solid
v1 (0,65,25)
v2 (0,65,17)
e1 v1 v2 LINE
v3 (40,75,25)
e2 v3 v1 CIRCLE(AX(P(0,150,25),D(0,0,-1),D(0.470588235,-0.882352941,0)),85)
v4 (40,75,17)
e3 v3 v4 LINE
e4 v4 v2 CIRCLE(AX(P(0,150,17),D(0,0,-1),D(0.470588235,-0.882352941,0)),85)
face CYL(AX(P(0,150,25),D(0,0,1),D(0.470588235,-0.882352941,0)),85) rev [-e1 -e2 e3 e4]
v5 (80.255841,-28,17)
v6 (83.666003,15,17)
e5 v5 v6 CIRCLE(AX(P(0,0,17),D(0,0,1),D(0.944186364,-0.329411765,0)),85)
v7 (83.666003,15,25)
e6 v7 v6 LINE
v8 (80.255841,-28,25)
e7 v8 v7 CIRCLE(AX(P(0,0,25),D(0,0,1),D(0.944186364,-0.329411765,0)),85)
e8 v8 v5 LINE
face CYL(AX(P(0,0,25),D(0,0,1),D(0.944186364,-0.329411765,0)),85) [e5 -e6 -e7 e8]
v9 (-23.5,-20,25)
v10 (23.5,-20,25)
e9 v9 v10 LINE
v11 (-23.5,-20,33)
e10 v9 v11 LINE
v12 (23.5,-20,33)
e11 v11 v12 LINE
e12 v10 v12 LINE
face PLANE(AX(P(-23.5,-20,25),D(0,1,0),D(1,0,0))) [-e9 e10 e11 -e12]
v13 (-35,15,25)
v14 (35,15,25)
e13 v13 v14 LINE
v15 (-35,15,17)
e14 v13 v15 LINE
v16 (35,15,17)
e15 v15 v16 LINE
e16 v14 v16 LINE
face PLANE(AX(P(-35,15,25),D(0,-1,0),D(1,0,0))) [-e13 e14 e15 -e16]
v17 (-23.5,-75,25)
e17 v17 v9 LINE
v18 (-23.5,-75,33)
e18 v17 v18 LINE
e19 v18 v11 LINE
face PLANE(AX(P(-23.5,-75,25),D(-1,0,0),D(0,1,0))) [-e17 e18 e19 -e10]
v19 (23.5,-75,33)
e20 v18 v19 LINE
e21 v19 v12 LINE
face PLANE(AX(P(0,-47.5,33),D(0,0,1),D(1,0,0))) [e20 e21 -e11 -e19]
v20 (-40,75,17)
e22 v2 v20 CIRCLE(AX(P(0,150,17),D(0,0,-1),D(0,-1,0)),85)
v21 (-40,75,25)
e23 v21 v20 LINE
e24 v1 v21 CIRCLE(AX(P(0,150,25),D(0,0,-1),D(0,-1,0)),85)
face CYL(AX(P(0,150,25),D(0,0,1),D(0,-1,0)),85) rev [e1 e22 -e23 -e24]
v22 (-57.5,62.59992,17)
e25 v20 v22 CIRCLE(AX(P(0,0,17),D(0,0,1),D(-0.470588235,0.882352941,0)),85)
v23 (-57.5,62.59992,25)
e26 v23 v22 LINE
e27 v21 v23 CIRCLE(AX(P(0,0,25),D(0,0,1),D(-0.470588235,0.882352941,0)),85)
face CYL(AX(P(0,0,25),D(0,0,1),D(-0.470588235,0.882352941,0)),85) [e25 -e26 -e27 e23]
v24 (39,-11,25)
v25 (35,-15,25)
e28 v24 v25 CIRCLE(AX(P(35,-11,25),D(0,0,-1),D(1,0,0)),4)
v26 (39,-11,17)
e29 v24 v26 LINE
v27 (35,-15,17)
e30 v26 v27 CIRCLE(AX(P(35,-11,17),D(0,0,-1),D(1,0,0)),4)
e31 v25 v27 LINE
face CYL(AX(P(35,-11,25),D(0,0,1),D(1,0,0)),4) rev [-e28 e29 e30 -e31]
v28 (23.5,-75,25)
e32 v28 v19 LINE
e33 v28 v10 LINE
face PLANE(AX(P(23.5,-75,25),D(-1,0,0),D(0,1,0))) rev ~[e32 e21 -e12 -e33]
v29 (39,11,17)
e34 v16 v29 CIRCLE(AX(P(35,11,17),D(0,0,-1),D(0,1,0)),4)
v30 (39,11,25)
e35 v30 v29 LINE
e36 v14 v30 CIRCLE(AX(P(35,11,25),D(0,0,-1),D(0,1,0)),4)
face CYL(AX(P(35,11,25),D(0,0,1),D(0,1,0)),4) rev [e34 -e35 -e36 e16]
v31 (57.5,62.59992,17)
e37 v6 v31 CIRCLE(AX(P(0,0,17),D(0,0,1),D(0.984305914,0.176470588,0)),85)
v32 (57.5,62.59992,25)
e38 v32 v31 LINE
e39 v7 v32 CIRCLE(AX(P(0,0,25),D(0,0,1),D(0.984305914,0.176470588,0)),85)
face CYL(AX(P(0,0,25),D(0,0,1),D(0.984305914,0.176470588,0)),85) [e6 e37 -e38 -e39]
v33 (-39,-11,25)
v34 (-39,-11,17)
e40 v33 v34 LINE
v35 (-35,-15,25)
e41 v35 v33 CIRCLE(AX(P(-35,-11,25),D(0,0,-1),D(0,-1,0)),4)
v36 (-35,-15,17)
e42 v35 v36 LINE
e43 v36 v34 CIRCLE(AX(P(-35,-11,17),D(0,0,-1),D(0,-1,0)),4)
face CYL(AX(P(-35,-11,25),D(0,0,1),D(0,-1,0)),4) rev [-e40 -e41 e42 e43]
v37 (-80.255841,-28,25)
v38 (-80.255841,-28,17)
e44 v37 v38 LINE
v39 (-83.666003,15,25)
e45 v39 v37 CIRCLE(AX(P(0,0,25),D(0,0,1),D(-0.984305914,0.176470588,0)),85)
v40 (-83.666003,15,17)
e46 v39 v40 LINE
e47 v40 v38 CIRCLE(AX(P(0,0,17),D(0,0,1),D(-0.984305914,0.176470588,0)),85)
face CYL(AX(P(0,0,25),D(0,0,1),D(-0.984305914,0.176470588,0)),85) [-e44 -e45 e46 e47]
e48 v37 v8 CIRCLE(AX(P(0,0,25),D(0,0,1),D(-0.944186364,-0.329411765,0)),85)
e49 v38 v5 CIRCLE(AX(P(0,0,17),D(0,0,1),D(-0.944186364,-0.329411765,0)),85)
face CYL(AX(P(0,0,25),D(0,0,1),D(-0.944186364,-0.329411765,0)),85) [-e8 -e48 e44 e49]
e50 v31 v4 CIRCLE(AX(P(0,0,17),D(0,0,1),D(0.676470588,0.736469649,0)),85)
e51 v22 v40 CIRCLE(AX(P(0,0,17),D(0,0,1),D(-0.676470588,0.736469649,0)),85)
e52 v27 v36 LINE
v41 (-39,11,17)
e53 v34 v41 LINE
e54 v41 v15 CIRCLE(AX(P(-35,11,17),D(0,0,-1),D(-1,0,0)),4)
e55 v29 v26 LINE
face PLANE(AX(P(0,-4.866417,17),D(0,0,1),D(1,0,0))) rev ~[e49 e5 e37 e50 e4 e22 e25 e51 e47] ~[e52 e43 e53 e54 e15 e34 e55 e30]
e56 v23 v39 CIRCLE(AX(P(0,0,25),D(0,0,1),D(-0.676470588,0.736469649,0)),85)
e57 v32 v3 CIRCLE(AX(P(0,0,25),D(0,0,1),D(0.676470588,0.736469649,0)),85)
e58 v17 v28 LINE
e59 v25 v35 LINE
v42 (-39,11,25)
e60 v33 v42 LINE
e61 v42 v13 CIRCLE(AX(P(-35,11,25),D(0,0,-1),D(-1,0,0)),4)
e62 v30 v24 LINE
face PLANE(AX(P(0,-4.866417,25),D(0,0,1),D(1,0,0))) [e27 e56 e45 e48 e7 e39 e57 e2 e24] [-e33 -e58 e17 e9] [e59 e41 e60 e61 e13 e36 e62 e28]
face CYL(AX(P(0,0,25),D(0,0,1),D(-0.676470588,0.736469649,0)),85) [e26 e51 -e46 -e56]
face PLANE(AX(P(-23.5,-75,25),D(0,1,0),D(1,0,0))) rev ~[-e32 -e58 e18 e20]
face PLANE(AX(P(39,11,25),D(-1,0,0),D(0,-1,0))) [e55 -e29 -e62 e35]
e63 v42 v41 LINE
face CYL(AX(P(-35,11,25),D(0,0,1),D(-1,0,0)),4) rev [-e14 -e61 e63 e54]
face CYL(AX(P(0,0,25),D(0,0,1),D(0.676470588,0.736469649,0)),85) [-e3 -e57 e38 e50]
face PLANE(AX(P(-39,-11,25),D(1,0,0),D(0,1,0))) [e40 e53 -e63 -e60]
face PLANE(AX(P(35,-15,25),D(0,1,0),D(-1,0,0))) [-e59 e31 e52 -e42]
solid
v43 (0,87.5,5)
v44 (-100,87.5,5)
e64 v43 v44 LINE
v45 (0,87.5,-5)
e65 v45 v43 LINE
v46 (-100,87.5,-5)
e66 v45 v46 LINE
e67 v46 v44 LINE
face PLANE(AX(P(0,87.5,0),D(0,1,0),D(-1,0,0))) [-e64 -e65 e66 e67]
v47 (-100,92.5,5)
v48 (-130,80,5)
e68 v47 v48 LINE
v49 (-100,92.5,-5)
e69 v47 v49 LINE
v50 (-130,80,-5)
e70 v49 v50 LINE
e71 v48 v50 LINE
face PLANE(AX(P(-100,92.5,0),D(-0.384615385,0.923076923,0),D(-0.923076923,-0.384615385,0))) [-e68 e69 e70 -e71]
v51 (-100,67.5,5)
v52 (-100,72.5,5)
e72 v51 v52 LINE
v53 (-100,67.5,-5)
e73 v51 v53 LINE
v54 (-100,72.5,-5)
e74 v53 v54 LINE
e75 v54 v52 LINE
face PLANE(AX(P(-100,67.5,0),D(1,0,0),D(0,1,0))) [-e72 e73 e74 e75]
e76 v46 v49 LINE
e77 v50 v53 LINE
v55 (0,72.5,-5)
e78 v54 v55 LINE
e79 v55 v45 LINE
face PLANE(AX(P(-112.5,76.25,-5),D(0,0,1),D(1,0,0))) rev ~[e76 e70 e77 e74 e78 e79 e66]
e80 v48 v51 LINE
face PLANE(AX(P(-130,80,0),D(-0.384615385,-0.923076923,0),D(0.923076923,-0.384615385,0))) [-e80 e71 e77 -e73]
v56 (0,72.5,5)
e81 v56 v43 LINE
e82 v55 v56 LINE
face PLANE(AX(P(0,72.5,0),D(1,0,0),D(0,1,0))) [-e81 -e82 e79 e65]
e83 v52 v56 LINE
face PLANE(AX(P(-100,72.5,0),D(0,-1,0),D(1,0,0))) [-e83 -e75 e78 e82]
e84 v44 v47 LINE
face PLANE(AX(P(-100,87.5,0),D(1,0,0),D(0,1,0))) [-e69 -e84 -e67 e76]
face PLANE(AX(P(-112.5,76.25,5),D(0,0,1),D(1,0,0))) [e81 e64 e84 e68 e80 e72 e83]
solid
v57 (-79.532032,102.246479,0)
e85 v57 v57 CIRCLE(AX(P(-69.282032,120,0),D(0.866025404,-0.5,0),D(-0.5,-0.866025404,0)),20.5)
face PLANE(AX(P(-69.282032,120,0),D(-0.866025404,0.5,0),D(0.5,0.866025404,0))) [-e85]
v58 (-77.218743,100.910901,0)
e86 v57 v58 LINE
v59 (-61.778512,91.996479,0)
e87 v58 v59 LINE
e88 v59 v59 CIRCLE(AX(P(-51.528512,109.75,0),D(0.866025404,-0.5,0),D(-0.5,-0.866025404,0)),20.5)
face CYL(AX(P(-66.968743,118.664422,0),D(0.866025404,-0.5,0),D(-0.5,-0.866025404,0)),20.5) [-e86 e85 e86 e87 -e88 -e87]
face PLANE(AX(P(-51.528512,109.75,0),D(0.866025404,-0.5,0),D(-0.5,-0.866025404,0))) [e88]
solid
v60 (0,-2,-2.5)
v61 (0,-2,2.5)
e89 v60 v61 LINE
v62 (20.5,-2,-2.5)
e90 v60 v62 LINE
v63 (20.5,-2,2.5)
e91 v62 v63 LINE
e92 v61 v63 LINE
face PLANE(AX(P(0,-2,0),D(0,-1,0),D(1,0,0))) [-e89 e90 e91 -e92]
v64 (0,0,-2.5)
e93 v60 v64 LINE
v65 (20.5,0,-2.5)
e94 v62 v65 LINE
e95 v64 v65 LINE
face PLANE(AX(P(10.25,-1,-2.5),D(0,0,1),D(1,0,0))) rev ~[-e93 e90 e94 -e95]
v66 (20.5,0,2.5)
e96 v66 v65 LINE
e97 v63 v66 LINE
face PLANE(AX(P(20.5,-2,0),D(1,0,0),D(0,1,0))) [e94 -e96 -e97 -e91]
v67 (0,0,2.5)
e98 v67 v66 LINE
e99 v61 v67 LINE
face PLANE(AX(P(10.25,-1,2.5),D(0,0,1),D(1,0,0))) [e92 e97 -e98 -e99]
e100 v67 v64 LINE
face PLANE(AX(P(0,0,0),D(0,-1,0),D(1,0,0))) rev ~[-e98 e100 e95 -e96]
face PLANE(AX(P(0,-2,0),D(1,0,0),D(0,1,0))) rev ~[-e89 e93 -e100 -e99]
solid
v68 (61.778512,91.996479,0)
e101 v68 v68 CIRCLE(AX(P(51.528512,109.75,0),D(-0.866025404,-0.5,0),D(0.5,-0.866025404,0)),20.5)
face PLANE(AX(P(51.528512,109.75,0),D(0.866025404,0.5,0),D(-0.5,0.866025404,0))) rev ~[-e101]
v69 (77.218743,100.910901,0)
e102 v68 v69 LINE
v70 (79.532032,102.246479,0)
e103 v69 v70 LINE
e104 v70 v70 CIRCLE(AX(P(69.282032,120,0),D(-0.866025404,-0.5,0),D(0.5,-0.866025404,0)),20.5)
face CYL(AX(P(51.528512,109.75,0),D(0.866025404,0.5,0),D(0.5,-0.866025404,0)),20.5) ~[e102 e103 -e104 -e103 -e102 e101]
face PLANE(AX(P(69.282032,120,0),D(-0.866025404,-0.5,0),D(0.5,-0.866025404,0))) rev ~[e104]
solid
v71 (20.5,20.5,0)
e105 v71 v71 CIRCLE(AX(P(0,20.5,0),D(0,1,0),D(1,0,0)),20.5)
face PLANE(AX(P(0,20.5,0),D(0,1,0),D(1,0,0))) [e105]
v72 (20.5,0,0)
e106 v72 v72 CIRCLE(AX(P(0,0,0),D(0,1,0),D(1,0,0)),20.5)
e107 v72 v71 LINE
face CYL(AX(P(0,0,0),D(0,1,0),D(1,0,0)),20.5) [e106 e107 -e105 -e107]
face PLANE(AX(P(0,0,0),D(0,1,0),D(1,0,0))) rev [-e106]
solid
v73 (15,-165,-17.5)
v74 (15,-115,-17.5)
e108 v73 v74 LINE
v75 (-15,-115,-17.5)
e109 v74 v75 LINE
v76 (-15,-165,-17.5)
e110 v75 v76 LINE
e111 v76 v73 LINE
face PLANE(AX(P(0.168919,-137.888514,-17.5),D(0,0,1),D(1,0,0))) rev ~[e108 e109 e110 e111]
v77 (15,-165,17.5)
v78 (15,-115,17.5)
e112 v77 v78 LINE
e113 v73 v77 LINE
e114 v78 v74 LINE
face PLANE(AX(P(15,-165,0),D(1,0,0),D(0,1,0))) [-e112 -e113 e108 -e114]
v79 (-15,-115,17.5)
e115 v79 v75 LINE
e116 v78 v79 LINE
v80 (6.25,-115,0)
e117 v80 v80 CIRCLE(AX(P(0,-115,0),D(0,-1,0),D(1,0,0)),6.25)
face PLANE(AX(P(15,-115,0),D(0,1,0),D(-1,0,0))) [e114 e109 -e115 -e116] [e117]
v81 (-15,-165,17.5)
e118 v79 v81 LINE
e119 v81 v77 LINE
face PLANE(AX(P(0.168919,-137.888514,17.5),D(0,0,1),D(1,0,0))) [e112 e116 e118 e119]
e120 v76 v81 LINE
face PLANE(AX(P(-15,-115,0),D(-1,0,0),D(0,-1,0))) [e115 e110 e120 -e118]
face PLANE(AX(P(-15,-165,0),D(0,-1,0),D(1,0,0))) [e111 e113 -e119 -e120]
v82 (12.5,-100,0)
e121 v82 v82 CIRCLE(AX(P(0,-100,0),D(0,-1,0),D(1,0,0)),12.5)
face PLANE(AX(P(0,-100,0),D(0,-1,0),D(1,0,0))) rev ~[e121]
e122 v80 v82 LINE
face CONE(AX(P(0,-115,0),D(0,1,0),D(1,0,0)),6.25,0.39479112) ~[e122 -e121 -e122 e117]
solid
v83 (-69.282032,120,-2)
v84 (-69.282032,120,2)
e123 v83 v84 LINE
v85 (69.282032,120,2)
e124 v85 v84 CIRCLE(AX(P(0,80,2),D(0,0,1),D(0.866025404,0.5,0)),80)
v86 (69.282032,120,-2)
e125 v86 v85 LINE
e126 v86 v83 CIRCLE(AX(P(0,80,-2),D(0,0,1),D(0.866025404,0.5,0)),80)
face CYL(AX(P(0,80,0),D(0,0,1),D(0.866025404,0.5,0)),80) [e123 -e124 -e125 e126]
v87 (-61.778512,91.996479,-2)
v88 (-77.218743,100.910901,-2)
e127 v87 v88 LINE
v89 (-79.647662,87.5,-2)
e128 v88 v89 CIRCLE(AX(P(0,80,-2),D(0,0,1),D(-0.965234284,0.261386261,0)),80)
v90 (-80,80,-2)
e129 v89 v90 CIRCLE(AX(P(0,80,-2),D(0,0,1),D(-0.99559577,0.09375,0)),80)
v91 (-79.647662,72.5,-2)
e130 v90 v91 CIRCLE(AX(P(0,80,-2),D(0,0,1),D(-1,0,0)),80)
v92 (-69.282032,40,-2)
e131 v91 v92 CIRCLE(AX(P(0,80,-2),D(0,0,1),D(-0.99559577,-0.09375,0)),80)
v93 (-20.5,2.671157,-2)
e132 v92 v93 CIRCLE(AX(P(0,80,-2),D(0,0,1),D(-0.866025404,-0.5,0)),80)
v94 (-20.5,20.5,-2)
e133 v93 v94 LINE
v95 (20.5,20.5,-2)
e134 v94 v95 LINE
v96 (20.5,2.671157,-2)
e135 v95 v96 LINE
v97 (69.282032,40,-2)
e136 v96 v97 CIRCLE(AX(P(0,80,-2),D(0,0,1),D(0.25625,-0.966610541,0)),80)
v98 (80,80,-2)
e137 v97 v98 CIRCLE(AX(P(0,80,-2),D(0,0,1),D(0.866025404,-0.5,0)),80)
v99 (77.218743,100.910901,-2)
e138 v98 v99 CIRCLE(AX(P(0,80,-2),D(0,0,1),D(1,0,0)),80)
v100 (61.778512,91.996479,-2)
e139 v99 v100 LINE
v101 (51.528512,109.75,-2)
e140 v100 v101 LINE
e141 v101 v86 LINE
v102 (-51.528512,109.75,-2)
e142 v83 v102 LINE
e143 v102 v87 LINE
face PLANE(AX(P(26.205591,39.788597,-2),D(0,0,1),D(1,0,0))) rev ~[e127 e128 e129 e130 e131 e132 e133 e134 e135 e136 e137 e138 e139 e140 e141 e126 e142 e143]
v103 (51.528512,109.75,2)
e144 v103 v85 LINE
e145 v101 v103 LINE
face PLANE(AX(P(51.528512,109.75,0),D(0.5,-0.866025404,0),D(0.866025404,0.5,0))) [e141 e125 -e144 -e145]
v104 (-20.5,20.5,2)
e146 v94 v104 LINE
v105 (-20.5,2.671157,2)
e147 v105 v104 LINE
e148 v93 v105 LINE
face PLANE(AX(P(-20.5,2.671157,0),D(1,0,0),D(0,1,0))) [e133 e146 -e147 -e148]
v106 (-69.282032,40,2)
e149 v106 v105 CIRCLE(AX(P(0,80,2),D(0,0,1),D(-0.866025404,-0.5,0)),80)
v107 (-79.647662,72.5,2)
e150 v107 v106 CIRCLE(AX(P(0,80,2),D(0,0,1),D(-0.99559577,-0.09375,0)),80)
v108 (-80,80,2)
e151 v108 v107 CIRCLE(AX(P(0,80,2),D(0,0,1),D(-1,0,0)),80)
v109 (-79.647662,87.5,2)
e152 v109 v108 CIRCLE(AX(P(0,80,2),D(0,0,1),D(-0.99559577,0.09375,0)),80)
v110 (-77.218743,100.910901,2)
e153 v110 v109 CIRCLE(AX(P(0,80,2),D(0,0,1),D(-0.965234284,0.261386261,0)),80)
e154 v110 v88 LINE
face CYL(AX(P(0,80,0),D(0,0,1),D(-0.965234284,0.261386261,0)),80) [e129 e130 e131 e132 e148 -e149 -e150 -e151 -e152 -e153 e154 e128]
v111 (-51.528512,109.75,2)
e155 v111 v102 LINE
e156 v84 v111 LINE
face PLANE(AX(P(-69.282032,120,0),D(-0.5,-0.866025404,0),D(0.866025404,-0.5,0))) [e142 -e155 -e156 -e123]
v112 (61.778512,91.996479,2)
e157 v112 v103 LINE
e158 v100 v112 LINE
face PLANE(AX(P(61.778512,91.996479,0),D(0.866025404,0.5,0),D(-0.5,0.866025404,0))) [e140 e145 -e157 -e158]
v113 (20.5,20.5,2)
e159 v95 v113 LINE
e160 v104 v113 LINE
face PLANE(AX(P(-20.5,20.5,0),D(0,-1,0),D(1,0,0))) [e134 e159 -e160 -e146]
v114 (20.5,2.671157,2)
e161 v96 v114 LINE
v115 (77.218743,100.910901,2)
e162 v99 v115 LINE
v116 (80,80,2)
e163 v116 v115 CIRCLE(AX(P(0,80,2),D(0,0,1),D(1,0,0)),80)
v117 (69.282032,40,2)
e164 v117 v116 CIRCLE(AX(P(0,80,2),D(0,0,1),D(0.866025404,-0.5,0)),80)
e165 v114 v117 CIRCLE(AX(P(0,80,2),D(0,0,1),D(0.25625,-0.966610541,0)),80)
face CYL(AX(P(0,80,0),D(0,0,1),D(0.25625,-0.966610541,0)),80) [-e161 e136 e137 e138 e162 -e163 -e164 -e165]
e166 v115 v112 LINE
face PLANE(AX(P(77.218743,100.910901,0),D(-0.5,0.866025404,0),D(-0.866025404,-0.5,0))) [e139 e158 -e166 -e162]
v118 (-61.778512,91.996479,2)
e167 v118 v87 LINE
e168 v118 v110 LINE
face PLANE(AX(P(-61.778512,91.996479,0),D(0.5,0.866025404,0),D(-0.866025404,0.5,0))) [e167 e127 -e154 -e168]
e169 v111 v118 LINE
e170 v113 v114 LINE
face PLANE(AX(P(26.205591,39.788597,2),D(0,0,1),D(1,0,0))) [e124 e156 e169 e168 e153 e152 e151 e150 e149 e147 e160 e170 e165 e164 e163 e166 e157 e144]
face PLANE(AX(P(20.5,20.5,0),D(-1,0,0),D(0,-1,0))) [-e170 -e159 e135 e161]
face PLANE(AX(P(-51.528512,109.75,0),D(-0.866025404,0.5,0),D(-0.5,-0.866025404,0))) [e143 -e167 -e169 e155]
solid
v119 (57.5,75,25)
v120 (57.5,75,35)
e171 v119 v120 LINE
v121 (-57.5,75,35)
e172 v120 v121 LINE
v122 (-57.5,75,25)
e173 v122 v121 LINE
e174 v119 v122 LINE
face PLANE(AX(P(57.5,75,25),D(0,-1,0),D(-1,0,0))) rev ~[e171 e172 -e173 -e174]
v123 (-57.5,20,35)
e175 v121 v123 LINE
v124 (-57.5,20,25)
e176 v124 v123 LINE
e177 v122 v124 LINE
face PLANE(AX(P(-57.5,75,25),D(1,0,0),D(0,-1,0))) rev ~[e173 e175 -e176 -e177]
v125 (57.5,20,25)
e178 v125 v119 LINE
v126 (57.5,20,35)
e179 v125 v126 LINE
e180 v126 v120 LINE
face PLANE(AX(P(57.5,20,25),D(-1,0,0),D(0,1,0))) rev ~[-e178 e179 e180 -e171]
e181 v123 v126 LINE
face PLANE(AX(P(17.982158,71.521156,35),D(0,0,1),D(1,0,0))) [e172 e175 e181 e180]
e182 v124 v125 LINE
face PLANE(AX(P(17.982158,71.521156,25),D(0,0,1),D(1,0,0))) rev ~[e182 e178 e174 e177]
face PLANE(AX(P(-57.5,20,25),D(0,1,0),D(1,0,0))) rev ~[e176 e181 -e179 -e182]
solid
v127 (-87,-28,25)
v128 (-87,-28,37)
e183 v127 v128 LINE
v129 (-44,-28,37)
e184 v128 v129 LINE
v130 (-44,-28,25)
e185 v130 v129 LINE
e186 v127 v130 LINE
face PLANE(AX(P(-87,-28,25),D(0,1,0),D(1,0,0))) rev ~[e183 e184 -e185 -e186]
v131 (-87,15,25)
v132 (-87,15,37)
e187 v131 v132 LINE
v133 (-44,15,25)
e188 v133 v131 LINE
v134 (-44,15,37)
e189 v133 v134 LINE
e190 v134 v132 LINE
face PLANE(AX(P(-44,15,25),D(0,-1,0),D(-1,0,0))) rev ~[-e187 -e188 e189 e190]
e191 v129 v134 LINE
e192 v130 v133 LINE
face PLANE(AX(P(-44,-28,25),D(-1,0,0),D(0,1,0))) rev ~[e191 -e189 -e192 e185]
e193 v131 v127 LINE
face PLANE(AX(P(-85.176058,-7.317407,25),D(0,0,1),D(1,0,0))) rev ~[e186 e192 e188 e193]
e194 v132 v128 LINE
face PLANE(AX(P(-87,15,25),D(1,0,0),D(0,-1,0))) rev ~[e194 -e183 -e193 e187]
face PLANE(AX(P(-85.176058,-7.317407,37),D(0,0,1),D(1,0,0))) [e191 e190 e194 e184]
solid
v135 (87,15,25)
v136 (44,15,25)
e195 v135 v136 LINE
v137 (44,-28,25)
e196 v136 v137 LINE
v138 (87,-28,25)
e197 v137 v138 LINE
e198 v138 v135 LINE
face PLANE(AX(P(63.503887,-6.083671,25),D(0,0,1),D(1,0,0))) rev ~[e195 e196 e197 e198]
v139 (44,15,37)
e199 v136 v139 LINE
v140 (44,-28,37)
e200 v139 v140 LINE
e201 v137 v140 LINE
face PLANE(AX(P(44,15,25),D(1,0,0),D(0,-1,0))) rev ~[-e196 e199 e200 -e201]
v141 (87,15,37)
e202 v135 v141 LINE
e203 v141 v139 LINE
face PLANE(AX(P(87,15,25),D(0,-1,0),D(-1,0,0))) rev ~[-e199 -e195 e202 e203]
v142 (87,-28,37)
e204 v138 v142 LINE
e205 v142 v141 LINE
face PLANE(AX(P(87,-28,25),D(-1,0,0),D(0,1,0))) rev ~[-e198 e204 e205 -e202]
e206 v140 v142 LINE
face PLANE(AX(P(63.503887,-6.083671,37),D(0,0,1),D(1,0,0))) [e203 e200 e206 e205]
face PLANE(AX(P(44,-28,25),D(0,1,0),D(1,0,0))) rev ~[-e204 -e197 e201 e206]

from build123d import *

# Parameters (mm, degrees)
F1_DEPTH  = 2
F4_DEPTH  = 17.5
F0_W      = 20.5
F0_H      = 2
F5_DEPTH  = 2.5
F8_DEPTH  = 5
F10_W     = 47
F10_H     = 55
F11_DEPTH = 8
F12_DEPTH = 10
F13_DEPTH = 12
F14_DEPTH = 8


with BuildPart() as f1:
    # F0 (on Top) → F1 (new body, symmetric)
    with BuildSketch(Plane.XY):
        with BuildLine():
            Line((0, 72.5), (0, 20.5))
            Line((0, 20.5), (20.5, 20.5))
            Line((20.5, 20.5), (20.5, 2.6711567395))
            ThreePointArc((20.5, 2.6711567395), (48.6164989062, 16.4670476516), (69.2820323028, 40))
            Line((69.2820323028, 40), (0, 80))
            Line((0, 80), (0, 72.5))
        make_face()
        with BuildLine():
            Line((-20.5, 20.5), (0, 20.5))
            Line((0, 20.5), (0, 72.5))
            Line((0, 72.5), (-12.9903810568, 72.5))
            Line((-12.9903810568, 72.5), (-69.2820323028, 40))
            ThreePointArc((-69.2820323028, 40), (-48.6164989062, 16.4670476516), (-20.5, 2.6711567395))
            Line((-20.5, 2.6711567395), (-20.5, 20.5))
        make_face()
        with BuildLine():
            ThreePointArc((-79.6476616104, 72.5), (-76.2172941809, 55.6910702059), (-69.2820323028, 40))
            Line((-69.2820323028, 40), (-12.9903810568, 72.5))
            Line((-12.9903810568, 72.5), (-79.6476616104, 72.5))
        make_face()
        with BuildLine():
            Line((-12.9903810568, 72.5), (0, 80))
            Line((0, 80), (-80, 80))
            ThreePointArc((-80, 80), (-79.911866856, 76.2458642026), (-79.6476616104, 72.5))
            Line((-79.6476616104, 72.5), (-12.9903810568, 72.5))
        make_face()
        with BuildLine():
            Line((0, 80), (69.2820323028, 40))
            ThreePointArc((69.2820323028, 40), (77.2740661031, 59.2944763918), (80, 80))
            ThreePointArc((80, 80), (79.3016374885, 90.5475253803), (77.2187427088, 100.9109008526))
            Line((77.2187427088, 100.9109008526), (61.7785115252, 91.9964792224))
            Line((61.7785115252, 91.9964792224), (51.5285115252, 109.75))
            Line((51.5285115252, 109.75), (69.2820323028, 120))
            ThreePointArc((69.2820323028, 120), (0, 160), (-69.2820323028, 120))
            Line((-69.2820323028, 120), (-51.5285115252, 109.75))
            Line((-51.5285115252, 109.75), (-61.7785115252, 91.9964792224))
            Line((-61.7785115252, 91.9964792224), (-77.2187427088, 100.9109008526))
            ThreePointArc((-77.2187427088, 100.9109008526), (-78.719313173, 94.2572694992), (-79.6476616104, 87.5))
            Line((-79.6476616104, 87.5), (0, 87.5))
            Line((0, 87.5), (0, 80))
        make_face()
        with BuildLine():
            Line((-80, 80), (0, 80))
            Line((0, 80), (0, 87.5))
            Line((0, 87.5), (-79.6476616104, 87.5))
            ThreePointArc((-79.6476616104, 87.5), (-79.911866856, 83.7541357974), (-80, 80))
        make_face()
        Polygon((-12.9903810568, 72.5), (0, 72.5), (0, 80), align=None)
    extrude(amount=F1_DEPTH, both=True)


with BuildPart() as f2:
    # F0 (on Top) → F2 (revolve)
    with BuildSketch(Plane.XY):
        with BuildLine():
            Line((0, 20.5), (0, 0))
            ThreePointArc((0, 0), (10.3366469216, 0.6705998358), (20.5, 2.6711567395))
            Line((20.5, 2.6711567395), (20.5, 20.5))
            Line((20.5, 20.5), (0, 20.5))
        make_face()
        with BuildLine():
            ThreePointArc((20.5, 2.6711567395), (10.3366469216, 0.6705998358), (0, 0))
            Line((0, 0), (20.5, 0))
            Line((20.5, 0), (20.5, 2.6711567395))
        make_face()
    revolve(axis=Axis((0, 10.25, 0), (0, 1, 0)))


with BuildPart() as f3:
    # F0 (on Top) → F3 (revolve)
    with BuildSketch(Plane.XY):
        Polygon((12.5, -100), (0, -100), (0, -115), (6.25, -115), align=None)
    revolve(axis=Axis((0, -115, 0), (0, -1, 0)))

    # F0 (on Top) → F4 (join, symmetric)
    with BuildSketch(Plane.XY):
        Polygon((0, -130), (0, -115), (-15, -115), (-15, -165), (15, -165), (15, -115), (6.25, -115), align=None)
        Polygon((6.25, -115), (0, -115), (0, -130), align=None)
    extrude(amount=F4_DEPTH, both=True)


with BuildPart() as f5:
    # F0 (on Top) → F5 (new body, symmetric)
    with BuildSketch(Plane.XY):
        with Locations((10.25, -1)):
            Rectangle(F0_W, F0_H)
    extrude(amount=F5_DEPTH, both=True)


with BuildPart() as f6:
    # F0 (on Top) → F6 (revolve)
    with BuildSketch(Plane.XY):
        with BuildLine():
            Line((61.7785115252, 91.9964792224), (77.2187427088, 100.9109008526))
            ThreePointArc((77.2187427088, 100.9109008526), (73.86959927, 110.7129012581), (69.2820323028, 120))
            Line((69.2820323028, 120), (51.5285115252, 109.75))
            Line((51.5285115252, 109.75), (61.7785115252, 91.9964792224))
        make_face()
        with BuildLine():
            ThreePointArc((69.2820323028, 120), (73.86959927, 110.7129012581), (77.2187427088, 100.9109008526))
            Line((77.2187427088, 100.9109008526), (79.5320323028, 102.2464792224))
            Line((79.5320323028, 102.2464792224), (69.2820323028, 120))
        make_face()
    revolve(axis=Axis((60.405271914, 114.875, 0), (-0.8660254038, -0.5, 0)))


with BuildPart() as f7:
    # F0 (on Top) → F7 (revolve)
    with BuildSketch(Plane.XY):
        with BuildLine():
            ThreePointArc((-69.2820323028, 120), (-73.86959927, 110.7129012581), (-77.2187427088, 100.9109008526))
            Line((-77.2187427088, 100.9109008526), (-61.7785115252, 91.9964792224))
            Line((-61.7785115252, 91.9964792224), (-51.5285115252, 109.75))
            Line((-51.5285115252, 109.75), (-69.2820323028, 120))
        make_face()
        with BuildLine():
            Line((-79.5320323028, 102.2464792224), (-77.2187427088, 100.9109008526))
            ThreePointArc((-77.2187427088, 100.9109008526), (-73.86959927, 110.7129012581), (-69.2820323028, 120))
            Line((-69.2820323028, 120), (-79.5320323028, 102.2464792224))
        make_face()
    revolve(axis=Axis((-60.405271914, 114.875, 0), (0.8660254038, -0.5, 0)))


with BuildPart() as f8:
    # F0 (on Top) → F8 (new body, symmetric)
    with BuildSketch(Plane.XY):
        Polygon((-100, 67.5), (-100, 72.5), (-100, 80), (-130, 80), align=None)
        Polygon((-130, 80), (-100, 80), (-100, 87.5), (-100, 92.5), align=None)
        with BuildLine():
            Line((-100, 80), (-80, 80))
            ThreePointArc((-80, 80), (-79.911866856, 83.7541357974), (-79.6476616104, 87.5))
            Line((-79.6476616104, 87.5), (-100, 87.5))
            Line((-100, 87.5), (-100, 80))
        make_face()
        with BuildLine():
            Line((-100, 72.5), (-79.6476616104, 72.5))
            ThreePointArc((-79.6476616104, 72.5), (-79.911866856, 76.2458642026), (-80, 80))
            Line((-80, 80), (-100, 80))
            Line((-100, 80), (-100, 72.5))
        make_face()
        with BuildLine():
            Line((-80, 80), (0, 80))
            Line((0, 80), (0, 87.5))
            Line((0, 87.5), (-79.6476616104, 87.5))
            ThreePointArc((-79.6476616104, 87.5), (-79.911866856, 83.7541357974), (-80, 80))
        make_face()
        with BuildLine():
            Line((-12.9903810568, 72.5), (0, 80))
            Line((0, 80), (-80, 80))
            ThreePointArc((-80, 80), (-79.911866856, 76.2458642026), (-79.6476616104, 72.5))
            Line((-79.6476616104, 72.5), (-12.9903810568, 72.5))
        make_face()
        Polygon((-12.9903810568, 72.5), (0, 72.5), (0, 80), align=None)
    extrude(amount=F8_DEPTH, both=True)


with BuildPart() as f11:
    # F10 (on offset) → F11 (new body)
    with BuildSketch(Plane.XY.offset(25)):
        with BuildLine():
            Line((-57.5, 20), (-57.5, 62.5999201277))
            ThreePointArc((-57.5, 62.5999201277), (-74.4875706096, 40.946328586), (-83.6660026534, 15))
            Line((-83.6660026534, 15), (-44, 15))
            Line((-44, 15), (-44, -28))
            Line((-44, -28), (-80.2558409089, -28))
            ThreePointArc((-80.2558409089, -28), (0, -85), (80.2558409089, -28))
            Line((80.2558409089, -28), (44, -28))
            Line((44, -28), (44, 15))
            Line((44, 15), (83.6660026534, 15))
            ThreePointArc((83.6660026534, 15), (74.4875706096, 40.946328586), (57.5, 62.5999201277))
            Line((57.5, 62.5999201277), (57.5, 20))
            Line((57.5, 20), (-57.5, 20))
        make_face()
        with Locations((0, -47.5)):
            Rectangle(F10_W, F10_H, mode=Mode.SUBTRACT)
        with BuildLine():
            ThreePointArc((-39, 11), (-37.8284271247, 13.8284271247), (-35, 15))
            Line((-35, 15), (0, 15))
            Line((0, 15), (35, 15))
            ThreePointArc((35, 15), (37.8284271247, 13.8284271247), (39, 11))
            Line((39, 11), (39, 0))
            Line((39, 0), (39, -11))
            ThreePointArc((39, -11), (37.8284271247, -13.8284271247), (35, -15))
            Line((35, -15), (0, -15))
            Line((0, -15), (-35, -15))
            ThreePointArc((-35, -15), (-37.8284271247, -13.8284271247), (-39, -11))
            Line((-39, -11), (-39, 0))
            Line((-39, 0), (-39, 11))
        make_face(mode=Mode.SUBTRACT)
        with BuildLine():
            Line((-44, 15), (-83.6660026534, 15))
            ThreePointArc((-83.6660026534, 15), (-84.7339524584, -6.7199182124), (-80.2558409089, -28))
            Line((-80.2558409089, -28), (-44, -28))
            Line((-44, -28), (-44, 15))
        make_face()
        with Locations((0, -47.5)):
            Rectangle(F10_W, F10_H)
        with BuildLine():
            Line((44, -28), (80.2558409089, -28))
            ThreePointArc((80.2558409089, -28), (84.7339524584, -6.7199182124), (83.6660026534, 15))
            Line((83.6660026534, 15), (44, 15))
            Line((44, 15), (44, -28))
        make_face()
        with BuildLine():
            ThreePointArc((0, 65), (-20.6155281281, 67.5378874876), (-40, 75))
            ThreePointArc((-40, 75), (-49.1426799759, 69.354141944), (-57.5, 62.5999201277))
            Line((-57.5, 62.5999201277), (-57.5, 20))
            Line((-57.5, 20), (57.5, 20))
            Line((57.5, 20), (57.5, 62.5999201277))
            ThreePointArc((57.5, 62.5999201277), (49.1426799759, 69.354141944), (40, 75))
            ThreePointArc((40, 75), (20.6155281281, 67.5378874876), (0, 65))
        make_face()
    extrude(amount=-F11_DEPTH)

    # F10 (on offset) → F14 (join)
    with BuildSketch(Plane.XY.offset(25)):
        with Locations((0, -47.5)):
            Rectangle(F10_W, F10_H)
    extrude(amount=F14_DEPTH)


with BuildPart() as f12:
    # F10 (on offset) → F12 (new body)
    with BuildSketch(Plane.XY.offset(25)):
        with BuildLine():
            Line((0, 75), (0, 65))
            ThreePointArc((0, 65), (20.6155281281, 67.5378874876), (40, 75))
            Line((40, 75), (0, 75))
        make_face()
        with BuildLine():
            Line((0, 75), (-40, 75))
            ThreePointArc((-40, 75), (-20.6155281281, 67.5378874876), (0, 65))
            Line((0, 65), (0, 75))
        make_face()
        with BuildLine():
            ThreePointArc((-57.5, 62.5999201277), (-49.1426799759, 69.354141944), (-40, 75))
            Line((-40, 75), (-57.5, 75))
            Line((-57.5, 75), (-57.5, 62.5999201277))
        make_face()
        with BuildLine():
            Line((57.5, 75), (40, 75))
            ThreePointArc((40, 75), (49.1426799759, 69.354141944), (57.5, 62.5999201277))
            Line((57.5, 62.5999201277), (57.5, 75))
        make_face()
        with BuildLine():
            ThreePointArc((0, 65), (-20.6155281281, 67.5378874876), (-40, 75))
            ThreePointArc((-40, 75), (-49.1426799759, 69.354141944), (-57.5, 62.5999201277))
            Line((-57.5, 62.5999201277), (-57.5, 20))
            Line((-57.5, 20), (57.5, 20))
            Line((57.5, 20), (57.5, 62.5999201277))
            ThreePointArc((57.5, 62.5999201277), (49.1426799759, 69.354141944), (40, 75))
            ThreePointArc((40, 75), (20.6155281281, 67.5378874876), (0, 65))
        make_face()
    extrude(amount=F12_DEPTH)


with BuildPart() as f13:
    # F10 (on offset) → F13 (new body)
    with BuildSketch(Plane.XY.offset(25)):
        with BuildLine():
            ThreePointArc((-80.2558409089, -28), (-84.7339524584, -6.7199182124), (-83.6660026534, 15))
            Line((-83.6660026534, 15), (-87, 15))
            Line((-87, 15), (-87, -28))
            Line((-87, -28), (-80.2558409089, -28))
        make_face()
        with BuildLine():
            Line((-44, 15), (-83.6660026534, 15))
            ThreePointArc((-83.6660026534, 15), (-84.7339524584, -6.7199182124), (-80.2558409089, -28))
            Line((-80.2558409089, -28), (-44, -28))
            Line((-44, -28), (-44, 15))
        make_face()
    extrude(amount=F13_DEPTH)


with BuildPart() as f13b:
    # F10 (on offset) → F13, piece 2 (new body)
    with BuildSketch(Plane.XY.offset(25)):
        with BuildLine():
            Line((44, -28), (80.2558409089, -28))
            ThreePointArc((80.2558409089, -28), (84.7339524584, -6.7199182124), (83.6660026534, 15))
            Line((83.6660026534, 15), (44, 15))
            Line((44, 15), (44, -28))
        make_face()
        with BuildLine():
            ThreePointArc((83.6660026534, 15), (84.7339524584, -6.7199182124), (80.2558409089, -28))
            Line((80.2558409089, -28), (87, -28))
            Line((87, -28), (87, 15))
            Line((87, 15), (83.6660026534, 15))
        make_face()
    extrude(amount=F13_DEPTH)


solid = Compound([f1.part, f2.part, f3.part, f5.part, f6.part, f7.part, f8.part, f11.part, f12.part, f13.part, f13b.part])
